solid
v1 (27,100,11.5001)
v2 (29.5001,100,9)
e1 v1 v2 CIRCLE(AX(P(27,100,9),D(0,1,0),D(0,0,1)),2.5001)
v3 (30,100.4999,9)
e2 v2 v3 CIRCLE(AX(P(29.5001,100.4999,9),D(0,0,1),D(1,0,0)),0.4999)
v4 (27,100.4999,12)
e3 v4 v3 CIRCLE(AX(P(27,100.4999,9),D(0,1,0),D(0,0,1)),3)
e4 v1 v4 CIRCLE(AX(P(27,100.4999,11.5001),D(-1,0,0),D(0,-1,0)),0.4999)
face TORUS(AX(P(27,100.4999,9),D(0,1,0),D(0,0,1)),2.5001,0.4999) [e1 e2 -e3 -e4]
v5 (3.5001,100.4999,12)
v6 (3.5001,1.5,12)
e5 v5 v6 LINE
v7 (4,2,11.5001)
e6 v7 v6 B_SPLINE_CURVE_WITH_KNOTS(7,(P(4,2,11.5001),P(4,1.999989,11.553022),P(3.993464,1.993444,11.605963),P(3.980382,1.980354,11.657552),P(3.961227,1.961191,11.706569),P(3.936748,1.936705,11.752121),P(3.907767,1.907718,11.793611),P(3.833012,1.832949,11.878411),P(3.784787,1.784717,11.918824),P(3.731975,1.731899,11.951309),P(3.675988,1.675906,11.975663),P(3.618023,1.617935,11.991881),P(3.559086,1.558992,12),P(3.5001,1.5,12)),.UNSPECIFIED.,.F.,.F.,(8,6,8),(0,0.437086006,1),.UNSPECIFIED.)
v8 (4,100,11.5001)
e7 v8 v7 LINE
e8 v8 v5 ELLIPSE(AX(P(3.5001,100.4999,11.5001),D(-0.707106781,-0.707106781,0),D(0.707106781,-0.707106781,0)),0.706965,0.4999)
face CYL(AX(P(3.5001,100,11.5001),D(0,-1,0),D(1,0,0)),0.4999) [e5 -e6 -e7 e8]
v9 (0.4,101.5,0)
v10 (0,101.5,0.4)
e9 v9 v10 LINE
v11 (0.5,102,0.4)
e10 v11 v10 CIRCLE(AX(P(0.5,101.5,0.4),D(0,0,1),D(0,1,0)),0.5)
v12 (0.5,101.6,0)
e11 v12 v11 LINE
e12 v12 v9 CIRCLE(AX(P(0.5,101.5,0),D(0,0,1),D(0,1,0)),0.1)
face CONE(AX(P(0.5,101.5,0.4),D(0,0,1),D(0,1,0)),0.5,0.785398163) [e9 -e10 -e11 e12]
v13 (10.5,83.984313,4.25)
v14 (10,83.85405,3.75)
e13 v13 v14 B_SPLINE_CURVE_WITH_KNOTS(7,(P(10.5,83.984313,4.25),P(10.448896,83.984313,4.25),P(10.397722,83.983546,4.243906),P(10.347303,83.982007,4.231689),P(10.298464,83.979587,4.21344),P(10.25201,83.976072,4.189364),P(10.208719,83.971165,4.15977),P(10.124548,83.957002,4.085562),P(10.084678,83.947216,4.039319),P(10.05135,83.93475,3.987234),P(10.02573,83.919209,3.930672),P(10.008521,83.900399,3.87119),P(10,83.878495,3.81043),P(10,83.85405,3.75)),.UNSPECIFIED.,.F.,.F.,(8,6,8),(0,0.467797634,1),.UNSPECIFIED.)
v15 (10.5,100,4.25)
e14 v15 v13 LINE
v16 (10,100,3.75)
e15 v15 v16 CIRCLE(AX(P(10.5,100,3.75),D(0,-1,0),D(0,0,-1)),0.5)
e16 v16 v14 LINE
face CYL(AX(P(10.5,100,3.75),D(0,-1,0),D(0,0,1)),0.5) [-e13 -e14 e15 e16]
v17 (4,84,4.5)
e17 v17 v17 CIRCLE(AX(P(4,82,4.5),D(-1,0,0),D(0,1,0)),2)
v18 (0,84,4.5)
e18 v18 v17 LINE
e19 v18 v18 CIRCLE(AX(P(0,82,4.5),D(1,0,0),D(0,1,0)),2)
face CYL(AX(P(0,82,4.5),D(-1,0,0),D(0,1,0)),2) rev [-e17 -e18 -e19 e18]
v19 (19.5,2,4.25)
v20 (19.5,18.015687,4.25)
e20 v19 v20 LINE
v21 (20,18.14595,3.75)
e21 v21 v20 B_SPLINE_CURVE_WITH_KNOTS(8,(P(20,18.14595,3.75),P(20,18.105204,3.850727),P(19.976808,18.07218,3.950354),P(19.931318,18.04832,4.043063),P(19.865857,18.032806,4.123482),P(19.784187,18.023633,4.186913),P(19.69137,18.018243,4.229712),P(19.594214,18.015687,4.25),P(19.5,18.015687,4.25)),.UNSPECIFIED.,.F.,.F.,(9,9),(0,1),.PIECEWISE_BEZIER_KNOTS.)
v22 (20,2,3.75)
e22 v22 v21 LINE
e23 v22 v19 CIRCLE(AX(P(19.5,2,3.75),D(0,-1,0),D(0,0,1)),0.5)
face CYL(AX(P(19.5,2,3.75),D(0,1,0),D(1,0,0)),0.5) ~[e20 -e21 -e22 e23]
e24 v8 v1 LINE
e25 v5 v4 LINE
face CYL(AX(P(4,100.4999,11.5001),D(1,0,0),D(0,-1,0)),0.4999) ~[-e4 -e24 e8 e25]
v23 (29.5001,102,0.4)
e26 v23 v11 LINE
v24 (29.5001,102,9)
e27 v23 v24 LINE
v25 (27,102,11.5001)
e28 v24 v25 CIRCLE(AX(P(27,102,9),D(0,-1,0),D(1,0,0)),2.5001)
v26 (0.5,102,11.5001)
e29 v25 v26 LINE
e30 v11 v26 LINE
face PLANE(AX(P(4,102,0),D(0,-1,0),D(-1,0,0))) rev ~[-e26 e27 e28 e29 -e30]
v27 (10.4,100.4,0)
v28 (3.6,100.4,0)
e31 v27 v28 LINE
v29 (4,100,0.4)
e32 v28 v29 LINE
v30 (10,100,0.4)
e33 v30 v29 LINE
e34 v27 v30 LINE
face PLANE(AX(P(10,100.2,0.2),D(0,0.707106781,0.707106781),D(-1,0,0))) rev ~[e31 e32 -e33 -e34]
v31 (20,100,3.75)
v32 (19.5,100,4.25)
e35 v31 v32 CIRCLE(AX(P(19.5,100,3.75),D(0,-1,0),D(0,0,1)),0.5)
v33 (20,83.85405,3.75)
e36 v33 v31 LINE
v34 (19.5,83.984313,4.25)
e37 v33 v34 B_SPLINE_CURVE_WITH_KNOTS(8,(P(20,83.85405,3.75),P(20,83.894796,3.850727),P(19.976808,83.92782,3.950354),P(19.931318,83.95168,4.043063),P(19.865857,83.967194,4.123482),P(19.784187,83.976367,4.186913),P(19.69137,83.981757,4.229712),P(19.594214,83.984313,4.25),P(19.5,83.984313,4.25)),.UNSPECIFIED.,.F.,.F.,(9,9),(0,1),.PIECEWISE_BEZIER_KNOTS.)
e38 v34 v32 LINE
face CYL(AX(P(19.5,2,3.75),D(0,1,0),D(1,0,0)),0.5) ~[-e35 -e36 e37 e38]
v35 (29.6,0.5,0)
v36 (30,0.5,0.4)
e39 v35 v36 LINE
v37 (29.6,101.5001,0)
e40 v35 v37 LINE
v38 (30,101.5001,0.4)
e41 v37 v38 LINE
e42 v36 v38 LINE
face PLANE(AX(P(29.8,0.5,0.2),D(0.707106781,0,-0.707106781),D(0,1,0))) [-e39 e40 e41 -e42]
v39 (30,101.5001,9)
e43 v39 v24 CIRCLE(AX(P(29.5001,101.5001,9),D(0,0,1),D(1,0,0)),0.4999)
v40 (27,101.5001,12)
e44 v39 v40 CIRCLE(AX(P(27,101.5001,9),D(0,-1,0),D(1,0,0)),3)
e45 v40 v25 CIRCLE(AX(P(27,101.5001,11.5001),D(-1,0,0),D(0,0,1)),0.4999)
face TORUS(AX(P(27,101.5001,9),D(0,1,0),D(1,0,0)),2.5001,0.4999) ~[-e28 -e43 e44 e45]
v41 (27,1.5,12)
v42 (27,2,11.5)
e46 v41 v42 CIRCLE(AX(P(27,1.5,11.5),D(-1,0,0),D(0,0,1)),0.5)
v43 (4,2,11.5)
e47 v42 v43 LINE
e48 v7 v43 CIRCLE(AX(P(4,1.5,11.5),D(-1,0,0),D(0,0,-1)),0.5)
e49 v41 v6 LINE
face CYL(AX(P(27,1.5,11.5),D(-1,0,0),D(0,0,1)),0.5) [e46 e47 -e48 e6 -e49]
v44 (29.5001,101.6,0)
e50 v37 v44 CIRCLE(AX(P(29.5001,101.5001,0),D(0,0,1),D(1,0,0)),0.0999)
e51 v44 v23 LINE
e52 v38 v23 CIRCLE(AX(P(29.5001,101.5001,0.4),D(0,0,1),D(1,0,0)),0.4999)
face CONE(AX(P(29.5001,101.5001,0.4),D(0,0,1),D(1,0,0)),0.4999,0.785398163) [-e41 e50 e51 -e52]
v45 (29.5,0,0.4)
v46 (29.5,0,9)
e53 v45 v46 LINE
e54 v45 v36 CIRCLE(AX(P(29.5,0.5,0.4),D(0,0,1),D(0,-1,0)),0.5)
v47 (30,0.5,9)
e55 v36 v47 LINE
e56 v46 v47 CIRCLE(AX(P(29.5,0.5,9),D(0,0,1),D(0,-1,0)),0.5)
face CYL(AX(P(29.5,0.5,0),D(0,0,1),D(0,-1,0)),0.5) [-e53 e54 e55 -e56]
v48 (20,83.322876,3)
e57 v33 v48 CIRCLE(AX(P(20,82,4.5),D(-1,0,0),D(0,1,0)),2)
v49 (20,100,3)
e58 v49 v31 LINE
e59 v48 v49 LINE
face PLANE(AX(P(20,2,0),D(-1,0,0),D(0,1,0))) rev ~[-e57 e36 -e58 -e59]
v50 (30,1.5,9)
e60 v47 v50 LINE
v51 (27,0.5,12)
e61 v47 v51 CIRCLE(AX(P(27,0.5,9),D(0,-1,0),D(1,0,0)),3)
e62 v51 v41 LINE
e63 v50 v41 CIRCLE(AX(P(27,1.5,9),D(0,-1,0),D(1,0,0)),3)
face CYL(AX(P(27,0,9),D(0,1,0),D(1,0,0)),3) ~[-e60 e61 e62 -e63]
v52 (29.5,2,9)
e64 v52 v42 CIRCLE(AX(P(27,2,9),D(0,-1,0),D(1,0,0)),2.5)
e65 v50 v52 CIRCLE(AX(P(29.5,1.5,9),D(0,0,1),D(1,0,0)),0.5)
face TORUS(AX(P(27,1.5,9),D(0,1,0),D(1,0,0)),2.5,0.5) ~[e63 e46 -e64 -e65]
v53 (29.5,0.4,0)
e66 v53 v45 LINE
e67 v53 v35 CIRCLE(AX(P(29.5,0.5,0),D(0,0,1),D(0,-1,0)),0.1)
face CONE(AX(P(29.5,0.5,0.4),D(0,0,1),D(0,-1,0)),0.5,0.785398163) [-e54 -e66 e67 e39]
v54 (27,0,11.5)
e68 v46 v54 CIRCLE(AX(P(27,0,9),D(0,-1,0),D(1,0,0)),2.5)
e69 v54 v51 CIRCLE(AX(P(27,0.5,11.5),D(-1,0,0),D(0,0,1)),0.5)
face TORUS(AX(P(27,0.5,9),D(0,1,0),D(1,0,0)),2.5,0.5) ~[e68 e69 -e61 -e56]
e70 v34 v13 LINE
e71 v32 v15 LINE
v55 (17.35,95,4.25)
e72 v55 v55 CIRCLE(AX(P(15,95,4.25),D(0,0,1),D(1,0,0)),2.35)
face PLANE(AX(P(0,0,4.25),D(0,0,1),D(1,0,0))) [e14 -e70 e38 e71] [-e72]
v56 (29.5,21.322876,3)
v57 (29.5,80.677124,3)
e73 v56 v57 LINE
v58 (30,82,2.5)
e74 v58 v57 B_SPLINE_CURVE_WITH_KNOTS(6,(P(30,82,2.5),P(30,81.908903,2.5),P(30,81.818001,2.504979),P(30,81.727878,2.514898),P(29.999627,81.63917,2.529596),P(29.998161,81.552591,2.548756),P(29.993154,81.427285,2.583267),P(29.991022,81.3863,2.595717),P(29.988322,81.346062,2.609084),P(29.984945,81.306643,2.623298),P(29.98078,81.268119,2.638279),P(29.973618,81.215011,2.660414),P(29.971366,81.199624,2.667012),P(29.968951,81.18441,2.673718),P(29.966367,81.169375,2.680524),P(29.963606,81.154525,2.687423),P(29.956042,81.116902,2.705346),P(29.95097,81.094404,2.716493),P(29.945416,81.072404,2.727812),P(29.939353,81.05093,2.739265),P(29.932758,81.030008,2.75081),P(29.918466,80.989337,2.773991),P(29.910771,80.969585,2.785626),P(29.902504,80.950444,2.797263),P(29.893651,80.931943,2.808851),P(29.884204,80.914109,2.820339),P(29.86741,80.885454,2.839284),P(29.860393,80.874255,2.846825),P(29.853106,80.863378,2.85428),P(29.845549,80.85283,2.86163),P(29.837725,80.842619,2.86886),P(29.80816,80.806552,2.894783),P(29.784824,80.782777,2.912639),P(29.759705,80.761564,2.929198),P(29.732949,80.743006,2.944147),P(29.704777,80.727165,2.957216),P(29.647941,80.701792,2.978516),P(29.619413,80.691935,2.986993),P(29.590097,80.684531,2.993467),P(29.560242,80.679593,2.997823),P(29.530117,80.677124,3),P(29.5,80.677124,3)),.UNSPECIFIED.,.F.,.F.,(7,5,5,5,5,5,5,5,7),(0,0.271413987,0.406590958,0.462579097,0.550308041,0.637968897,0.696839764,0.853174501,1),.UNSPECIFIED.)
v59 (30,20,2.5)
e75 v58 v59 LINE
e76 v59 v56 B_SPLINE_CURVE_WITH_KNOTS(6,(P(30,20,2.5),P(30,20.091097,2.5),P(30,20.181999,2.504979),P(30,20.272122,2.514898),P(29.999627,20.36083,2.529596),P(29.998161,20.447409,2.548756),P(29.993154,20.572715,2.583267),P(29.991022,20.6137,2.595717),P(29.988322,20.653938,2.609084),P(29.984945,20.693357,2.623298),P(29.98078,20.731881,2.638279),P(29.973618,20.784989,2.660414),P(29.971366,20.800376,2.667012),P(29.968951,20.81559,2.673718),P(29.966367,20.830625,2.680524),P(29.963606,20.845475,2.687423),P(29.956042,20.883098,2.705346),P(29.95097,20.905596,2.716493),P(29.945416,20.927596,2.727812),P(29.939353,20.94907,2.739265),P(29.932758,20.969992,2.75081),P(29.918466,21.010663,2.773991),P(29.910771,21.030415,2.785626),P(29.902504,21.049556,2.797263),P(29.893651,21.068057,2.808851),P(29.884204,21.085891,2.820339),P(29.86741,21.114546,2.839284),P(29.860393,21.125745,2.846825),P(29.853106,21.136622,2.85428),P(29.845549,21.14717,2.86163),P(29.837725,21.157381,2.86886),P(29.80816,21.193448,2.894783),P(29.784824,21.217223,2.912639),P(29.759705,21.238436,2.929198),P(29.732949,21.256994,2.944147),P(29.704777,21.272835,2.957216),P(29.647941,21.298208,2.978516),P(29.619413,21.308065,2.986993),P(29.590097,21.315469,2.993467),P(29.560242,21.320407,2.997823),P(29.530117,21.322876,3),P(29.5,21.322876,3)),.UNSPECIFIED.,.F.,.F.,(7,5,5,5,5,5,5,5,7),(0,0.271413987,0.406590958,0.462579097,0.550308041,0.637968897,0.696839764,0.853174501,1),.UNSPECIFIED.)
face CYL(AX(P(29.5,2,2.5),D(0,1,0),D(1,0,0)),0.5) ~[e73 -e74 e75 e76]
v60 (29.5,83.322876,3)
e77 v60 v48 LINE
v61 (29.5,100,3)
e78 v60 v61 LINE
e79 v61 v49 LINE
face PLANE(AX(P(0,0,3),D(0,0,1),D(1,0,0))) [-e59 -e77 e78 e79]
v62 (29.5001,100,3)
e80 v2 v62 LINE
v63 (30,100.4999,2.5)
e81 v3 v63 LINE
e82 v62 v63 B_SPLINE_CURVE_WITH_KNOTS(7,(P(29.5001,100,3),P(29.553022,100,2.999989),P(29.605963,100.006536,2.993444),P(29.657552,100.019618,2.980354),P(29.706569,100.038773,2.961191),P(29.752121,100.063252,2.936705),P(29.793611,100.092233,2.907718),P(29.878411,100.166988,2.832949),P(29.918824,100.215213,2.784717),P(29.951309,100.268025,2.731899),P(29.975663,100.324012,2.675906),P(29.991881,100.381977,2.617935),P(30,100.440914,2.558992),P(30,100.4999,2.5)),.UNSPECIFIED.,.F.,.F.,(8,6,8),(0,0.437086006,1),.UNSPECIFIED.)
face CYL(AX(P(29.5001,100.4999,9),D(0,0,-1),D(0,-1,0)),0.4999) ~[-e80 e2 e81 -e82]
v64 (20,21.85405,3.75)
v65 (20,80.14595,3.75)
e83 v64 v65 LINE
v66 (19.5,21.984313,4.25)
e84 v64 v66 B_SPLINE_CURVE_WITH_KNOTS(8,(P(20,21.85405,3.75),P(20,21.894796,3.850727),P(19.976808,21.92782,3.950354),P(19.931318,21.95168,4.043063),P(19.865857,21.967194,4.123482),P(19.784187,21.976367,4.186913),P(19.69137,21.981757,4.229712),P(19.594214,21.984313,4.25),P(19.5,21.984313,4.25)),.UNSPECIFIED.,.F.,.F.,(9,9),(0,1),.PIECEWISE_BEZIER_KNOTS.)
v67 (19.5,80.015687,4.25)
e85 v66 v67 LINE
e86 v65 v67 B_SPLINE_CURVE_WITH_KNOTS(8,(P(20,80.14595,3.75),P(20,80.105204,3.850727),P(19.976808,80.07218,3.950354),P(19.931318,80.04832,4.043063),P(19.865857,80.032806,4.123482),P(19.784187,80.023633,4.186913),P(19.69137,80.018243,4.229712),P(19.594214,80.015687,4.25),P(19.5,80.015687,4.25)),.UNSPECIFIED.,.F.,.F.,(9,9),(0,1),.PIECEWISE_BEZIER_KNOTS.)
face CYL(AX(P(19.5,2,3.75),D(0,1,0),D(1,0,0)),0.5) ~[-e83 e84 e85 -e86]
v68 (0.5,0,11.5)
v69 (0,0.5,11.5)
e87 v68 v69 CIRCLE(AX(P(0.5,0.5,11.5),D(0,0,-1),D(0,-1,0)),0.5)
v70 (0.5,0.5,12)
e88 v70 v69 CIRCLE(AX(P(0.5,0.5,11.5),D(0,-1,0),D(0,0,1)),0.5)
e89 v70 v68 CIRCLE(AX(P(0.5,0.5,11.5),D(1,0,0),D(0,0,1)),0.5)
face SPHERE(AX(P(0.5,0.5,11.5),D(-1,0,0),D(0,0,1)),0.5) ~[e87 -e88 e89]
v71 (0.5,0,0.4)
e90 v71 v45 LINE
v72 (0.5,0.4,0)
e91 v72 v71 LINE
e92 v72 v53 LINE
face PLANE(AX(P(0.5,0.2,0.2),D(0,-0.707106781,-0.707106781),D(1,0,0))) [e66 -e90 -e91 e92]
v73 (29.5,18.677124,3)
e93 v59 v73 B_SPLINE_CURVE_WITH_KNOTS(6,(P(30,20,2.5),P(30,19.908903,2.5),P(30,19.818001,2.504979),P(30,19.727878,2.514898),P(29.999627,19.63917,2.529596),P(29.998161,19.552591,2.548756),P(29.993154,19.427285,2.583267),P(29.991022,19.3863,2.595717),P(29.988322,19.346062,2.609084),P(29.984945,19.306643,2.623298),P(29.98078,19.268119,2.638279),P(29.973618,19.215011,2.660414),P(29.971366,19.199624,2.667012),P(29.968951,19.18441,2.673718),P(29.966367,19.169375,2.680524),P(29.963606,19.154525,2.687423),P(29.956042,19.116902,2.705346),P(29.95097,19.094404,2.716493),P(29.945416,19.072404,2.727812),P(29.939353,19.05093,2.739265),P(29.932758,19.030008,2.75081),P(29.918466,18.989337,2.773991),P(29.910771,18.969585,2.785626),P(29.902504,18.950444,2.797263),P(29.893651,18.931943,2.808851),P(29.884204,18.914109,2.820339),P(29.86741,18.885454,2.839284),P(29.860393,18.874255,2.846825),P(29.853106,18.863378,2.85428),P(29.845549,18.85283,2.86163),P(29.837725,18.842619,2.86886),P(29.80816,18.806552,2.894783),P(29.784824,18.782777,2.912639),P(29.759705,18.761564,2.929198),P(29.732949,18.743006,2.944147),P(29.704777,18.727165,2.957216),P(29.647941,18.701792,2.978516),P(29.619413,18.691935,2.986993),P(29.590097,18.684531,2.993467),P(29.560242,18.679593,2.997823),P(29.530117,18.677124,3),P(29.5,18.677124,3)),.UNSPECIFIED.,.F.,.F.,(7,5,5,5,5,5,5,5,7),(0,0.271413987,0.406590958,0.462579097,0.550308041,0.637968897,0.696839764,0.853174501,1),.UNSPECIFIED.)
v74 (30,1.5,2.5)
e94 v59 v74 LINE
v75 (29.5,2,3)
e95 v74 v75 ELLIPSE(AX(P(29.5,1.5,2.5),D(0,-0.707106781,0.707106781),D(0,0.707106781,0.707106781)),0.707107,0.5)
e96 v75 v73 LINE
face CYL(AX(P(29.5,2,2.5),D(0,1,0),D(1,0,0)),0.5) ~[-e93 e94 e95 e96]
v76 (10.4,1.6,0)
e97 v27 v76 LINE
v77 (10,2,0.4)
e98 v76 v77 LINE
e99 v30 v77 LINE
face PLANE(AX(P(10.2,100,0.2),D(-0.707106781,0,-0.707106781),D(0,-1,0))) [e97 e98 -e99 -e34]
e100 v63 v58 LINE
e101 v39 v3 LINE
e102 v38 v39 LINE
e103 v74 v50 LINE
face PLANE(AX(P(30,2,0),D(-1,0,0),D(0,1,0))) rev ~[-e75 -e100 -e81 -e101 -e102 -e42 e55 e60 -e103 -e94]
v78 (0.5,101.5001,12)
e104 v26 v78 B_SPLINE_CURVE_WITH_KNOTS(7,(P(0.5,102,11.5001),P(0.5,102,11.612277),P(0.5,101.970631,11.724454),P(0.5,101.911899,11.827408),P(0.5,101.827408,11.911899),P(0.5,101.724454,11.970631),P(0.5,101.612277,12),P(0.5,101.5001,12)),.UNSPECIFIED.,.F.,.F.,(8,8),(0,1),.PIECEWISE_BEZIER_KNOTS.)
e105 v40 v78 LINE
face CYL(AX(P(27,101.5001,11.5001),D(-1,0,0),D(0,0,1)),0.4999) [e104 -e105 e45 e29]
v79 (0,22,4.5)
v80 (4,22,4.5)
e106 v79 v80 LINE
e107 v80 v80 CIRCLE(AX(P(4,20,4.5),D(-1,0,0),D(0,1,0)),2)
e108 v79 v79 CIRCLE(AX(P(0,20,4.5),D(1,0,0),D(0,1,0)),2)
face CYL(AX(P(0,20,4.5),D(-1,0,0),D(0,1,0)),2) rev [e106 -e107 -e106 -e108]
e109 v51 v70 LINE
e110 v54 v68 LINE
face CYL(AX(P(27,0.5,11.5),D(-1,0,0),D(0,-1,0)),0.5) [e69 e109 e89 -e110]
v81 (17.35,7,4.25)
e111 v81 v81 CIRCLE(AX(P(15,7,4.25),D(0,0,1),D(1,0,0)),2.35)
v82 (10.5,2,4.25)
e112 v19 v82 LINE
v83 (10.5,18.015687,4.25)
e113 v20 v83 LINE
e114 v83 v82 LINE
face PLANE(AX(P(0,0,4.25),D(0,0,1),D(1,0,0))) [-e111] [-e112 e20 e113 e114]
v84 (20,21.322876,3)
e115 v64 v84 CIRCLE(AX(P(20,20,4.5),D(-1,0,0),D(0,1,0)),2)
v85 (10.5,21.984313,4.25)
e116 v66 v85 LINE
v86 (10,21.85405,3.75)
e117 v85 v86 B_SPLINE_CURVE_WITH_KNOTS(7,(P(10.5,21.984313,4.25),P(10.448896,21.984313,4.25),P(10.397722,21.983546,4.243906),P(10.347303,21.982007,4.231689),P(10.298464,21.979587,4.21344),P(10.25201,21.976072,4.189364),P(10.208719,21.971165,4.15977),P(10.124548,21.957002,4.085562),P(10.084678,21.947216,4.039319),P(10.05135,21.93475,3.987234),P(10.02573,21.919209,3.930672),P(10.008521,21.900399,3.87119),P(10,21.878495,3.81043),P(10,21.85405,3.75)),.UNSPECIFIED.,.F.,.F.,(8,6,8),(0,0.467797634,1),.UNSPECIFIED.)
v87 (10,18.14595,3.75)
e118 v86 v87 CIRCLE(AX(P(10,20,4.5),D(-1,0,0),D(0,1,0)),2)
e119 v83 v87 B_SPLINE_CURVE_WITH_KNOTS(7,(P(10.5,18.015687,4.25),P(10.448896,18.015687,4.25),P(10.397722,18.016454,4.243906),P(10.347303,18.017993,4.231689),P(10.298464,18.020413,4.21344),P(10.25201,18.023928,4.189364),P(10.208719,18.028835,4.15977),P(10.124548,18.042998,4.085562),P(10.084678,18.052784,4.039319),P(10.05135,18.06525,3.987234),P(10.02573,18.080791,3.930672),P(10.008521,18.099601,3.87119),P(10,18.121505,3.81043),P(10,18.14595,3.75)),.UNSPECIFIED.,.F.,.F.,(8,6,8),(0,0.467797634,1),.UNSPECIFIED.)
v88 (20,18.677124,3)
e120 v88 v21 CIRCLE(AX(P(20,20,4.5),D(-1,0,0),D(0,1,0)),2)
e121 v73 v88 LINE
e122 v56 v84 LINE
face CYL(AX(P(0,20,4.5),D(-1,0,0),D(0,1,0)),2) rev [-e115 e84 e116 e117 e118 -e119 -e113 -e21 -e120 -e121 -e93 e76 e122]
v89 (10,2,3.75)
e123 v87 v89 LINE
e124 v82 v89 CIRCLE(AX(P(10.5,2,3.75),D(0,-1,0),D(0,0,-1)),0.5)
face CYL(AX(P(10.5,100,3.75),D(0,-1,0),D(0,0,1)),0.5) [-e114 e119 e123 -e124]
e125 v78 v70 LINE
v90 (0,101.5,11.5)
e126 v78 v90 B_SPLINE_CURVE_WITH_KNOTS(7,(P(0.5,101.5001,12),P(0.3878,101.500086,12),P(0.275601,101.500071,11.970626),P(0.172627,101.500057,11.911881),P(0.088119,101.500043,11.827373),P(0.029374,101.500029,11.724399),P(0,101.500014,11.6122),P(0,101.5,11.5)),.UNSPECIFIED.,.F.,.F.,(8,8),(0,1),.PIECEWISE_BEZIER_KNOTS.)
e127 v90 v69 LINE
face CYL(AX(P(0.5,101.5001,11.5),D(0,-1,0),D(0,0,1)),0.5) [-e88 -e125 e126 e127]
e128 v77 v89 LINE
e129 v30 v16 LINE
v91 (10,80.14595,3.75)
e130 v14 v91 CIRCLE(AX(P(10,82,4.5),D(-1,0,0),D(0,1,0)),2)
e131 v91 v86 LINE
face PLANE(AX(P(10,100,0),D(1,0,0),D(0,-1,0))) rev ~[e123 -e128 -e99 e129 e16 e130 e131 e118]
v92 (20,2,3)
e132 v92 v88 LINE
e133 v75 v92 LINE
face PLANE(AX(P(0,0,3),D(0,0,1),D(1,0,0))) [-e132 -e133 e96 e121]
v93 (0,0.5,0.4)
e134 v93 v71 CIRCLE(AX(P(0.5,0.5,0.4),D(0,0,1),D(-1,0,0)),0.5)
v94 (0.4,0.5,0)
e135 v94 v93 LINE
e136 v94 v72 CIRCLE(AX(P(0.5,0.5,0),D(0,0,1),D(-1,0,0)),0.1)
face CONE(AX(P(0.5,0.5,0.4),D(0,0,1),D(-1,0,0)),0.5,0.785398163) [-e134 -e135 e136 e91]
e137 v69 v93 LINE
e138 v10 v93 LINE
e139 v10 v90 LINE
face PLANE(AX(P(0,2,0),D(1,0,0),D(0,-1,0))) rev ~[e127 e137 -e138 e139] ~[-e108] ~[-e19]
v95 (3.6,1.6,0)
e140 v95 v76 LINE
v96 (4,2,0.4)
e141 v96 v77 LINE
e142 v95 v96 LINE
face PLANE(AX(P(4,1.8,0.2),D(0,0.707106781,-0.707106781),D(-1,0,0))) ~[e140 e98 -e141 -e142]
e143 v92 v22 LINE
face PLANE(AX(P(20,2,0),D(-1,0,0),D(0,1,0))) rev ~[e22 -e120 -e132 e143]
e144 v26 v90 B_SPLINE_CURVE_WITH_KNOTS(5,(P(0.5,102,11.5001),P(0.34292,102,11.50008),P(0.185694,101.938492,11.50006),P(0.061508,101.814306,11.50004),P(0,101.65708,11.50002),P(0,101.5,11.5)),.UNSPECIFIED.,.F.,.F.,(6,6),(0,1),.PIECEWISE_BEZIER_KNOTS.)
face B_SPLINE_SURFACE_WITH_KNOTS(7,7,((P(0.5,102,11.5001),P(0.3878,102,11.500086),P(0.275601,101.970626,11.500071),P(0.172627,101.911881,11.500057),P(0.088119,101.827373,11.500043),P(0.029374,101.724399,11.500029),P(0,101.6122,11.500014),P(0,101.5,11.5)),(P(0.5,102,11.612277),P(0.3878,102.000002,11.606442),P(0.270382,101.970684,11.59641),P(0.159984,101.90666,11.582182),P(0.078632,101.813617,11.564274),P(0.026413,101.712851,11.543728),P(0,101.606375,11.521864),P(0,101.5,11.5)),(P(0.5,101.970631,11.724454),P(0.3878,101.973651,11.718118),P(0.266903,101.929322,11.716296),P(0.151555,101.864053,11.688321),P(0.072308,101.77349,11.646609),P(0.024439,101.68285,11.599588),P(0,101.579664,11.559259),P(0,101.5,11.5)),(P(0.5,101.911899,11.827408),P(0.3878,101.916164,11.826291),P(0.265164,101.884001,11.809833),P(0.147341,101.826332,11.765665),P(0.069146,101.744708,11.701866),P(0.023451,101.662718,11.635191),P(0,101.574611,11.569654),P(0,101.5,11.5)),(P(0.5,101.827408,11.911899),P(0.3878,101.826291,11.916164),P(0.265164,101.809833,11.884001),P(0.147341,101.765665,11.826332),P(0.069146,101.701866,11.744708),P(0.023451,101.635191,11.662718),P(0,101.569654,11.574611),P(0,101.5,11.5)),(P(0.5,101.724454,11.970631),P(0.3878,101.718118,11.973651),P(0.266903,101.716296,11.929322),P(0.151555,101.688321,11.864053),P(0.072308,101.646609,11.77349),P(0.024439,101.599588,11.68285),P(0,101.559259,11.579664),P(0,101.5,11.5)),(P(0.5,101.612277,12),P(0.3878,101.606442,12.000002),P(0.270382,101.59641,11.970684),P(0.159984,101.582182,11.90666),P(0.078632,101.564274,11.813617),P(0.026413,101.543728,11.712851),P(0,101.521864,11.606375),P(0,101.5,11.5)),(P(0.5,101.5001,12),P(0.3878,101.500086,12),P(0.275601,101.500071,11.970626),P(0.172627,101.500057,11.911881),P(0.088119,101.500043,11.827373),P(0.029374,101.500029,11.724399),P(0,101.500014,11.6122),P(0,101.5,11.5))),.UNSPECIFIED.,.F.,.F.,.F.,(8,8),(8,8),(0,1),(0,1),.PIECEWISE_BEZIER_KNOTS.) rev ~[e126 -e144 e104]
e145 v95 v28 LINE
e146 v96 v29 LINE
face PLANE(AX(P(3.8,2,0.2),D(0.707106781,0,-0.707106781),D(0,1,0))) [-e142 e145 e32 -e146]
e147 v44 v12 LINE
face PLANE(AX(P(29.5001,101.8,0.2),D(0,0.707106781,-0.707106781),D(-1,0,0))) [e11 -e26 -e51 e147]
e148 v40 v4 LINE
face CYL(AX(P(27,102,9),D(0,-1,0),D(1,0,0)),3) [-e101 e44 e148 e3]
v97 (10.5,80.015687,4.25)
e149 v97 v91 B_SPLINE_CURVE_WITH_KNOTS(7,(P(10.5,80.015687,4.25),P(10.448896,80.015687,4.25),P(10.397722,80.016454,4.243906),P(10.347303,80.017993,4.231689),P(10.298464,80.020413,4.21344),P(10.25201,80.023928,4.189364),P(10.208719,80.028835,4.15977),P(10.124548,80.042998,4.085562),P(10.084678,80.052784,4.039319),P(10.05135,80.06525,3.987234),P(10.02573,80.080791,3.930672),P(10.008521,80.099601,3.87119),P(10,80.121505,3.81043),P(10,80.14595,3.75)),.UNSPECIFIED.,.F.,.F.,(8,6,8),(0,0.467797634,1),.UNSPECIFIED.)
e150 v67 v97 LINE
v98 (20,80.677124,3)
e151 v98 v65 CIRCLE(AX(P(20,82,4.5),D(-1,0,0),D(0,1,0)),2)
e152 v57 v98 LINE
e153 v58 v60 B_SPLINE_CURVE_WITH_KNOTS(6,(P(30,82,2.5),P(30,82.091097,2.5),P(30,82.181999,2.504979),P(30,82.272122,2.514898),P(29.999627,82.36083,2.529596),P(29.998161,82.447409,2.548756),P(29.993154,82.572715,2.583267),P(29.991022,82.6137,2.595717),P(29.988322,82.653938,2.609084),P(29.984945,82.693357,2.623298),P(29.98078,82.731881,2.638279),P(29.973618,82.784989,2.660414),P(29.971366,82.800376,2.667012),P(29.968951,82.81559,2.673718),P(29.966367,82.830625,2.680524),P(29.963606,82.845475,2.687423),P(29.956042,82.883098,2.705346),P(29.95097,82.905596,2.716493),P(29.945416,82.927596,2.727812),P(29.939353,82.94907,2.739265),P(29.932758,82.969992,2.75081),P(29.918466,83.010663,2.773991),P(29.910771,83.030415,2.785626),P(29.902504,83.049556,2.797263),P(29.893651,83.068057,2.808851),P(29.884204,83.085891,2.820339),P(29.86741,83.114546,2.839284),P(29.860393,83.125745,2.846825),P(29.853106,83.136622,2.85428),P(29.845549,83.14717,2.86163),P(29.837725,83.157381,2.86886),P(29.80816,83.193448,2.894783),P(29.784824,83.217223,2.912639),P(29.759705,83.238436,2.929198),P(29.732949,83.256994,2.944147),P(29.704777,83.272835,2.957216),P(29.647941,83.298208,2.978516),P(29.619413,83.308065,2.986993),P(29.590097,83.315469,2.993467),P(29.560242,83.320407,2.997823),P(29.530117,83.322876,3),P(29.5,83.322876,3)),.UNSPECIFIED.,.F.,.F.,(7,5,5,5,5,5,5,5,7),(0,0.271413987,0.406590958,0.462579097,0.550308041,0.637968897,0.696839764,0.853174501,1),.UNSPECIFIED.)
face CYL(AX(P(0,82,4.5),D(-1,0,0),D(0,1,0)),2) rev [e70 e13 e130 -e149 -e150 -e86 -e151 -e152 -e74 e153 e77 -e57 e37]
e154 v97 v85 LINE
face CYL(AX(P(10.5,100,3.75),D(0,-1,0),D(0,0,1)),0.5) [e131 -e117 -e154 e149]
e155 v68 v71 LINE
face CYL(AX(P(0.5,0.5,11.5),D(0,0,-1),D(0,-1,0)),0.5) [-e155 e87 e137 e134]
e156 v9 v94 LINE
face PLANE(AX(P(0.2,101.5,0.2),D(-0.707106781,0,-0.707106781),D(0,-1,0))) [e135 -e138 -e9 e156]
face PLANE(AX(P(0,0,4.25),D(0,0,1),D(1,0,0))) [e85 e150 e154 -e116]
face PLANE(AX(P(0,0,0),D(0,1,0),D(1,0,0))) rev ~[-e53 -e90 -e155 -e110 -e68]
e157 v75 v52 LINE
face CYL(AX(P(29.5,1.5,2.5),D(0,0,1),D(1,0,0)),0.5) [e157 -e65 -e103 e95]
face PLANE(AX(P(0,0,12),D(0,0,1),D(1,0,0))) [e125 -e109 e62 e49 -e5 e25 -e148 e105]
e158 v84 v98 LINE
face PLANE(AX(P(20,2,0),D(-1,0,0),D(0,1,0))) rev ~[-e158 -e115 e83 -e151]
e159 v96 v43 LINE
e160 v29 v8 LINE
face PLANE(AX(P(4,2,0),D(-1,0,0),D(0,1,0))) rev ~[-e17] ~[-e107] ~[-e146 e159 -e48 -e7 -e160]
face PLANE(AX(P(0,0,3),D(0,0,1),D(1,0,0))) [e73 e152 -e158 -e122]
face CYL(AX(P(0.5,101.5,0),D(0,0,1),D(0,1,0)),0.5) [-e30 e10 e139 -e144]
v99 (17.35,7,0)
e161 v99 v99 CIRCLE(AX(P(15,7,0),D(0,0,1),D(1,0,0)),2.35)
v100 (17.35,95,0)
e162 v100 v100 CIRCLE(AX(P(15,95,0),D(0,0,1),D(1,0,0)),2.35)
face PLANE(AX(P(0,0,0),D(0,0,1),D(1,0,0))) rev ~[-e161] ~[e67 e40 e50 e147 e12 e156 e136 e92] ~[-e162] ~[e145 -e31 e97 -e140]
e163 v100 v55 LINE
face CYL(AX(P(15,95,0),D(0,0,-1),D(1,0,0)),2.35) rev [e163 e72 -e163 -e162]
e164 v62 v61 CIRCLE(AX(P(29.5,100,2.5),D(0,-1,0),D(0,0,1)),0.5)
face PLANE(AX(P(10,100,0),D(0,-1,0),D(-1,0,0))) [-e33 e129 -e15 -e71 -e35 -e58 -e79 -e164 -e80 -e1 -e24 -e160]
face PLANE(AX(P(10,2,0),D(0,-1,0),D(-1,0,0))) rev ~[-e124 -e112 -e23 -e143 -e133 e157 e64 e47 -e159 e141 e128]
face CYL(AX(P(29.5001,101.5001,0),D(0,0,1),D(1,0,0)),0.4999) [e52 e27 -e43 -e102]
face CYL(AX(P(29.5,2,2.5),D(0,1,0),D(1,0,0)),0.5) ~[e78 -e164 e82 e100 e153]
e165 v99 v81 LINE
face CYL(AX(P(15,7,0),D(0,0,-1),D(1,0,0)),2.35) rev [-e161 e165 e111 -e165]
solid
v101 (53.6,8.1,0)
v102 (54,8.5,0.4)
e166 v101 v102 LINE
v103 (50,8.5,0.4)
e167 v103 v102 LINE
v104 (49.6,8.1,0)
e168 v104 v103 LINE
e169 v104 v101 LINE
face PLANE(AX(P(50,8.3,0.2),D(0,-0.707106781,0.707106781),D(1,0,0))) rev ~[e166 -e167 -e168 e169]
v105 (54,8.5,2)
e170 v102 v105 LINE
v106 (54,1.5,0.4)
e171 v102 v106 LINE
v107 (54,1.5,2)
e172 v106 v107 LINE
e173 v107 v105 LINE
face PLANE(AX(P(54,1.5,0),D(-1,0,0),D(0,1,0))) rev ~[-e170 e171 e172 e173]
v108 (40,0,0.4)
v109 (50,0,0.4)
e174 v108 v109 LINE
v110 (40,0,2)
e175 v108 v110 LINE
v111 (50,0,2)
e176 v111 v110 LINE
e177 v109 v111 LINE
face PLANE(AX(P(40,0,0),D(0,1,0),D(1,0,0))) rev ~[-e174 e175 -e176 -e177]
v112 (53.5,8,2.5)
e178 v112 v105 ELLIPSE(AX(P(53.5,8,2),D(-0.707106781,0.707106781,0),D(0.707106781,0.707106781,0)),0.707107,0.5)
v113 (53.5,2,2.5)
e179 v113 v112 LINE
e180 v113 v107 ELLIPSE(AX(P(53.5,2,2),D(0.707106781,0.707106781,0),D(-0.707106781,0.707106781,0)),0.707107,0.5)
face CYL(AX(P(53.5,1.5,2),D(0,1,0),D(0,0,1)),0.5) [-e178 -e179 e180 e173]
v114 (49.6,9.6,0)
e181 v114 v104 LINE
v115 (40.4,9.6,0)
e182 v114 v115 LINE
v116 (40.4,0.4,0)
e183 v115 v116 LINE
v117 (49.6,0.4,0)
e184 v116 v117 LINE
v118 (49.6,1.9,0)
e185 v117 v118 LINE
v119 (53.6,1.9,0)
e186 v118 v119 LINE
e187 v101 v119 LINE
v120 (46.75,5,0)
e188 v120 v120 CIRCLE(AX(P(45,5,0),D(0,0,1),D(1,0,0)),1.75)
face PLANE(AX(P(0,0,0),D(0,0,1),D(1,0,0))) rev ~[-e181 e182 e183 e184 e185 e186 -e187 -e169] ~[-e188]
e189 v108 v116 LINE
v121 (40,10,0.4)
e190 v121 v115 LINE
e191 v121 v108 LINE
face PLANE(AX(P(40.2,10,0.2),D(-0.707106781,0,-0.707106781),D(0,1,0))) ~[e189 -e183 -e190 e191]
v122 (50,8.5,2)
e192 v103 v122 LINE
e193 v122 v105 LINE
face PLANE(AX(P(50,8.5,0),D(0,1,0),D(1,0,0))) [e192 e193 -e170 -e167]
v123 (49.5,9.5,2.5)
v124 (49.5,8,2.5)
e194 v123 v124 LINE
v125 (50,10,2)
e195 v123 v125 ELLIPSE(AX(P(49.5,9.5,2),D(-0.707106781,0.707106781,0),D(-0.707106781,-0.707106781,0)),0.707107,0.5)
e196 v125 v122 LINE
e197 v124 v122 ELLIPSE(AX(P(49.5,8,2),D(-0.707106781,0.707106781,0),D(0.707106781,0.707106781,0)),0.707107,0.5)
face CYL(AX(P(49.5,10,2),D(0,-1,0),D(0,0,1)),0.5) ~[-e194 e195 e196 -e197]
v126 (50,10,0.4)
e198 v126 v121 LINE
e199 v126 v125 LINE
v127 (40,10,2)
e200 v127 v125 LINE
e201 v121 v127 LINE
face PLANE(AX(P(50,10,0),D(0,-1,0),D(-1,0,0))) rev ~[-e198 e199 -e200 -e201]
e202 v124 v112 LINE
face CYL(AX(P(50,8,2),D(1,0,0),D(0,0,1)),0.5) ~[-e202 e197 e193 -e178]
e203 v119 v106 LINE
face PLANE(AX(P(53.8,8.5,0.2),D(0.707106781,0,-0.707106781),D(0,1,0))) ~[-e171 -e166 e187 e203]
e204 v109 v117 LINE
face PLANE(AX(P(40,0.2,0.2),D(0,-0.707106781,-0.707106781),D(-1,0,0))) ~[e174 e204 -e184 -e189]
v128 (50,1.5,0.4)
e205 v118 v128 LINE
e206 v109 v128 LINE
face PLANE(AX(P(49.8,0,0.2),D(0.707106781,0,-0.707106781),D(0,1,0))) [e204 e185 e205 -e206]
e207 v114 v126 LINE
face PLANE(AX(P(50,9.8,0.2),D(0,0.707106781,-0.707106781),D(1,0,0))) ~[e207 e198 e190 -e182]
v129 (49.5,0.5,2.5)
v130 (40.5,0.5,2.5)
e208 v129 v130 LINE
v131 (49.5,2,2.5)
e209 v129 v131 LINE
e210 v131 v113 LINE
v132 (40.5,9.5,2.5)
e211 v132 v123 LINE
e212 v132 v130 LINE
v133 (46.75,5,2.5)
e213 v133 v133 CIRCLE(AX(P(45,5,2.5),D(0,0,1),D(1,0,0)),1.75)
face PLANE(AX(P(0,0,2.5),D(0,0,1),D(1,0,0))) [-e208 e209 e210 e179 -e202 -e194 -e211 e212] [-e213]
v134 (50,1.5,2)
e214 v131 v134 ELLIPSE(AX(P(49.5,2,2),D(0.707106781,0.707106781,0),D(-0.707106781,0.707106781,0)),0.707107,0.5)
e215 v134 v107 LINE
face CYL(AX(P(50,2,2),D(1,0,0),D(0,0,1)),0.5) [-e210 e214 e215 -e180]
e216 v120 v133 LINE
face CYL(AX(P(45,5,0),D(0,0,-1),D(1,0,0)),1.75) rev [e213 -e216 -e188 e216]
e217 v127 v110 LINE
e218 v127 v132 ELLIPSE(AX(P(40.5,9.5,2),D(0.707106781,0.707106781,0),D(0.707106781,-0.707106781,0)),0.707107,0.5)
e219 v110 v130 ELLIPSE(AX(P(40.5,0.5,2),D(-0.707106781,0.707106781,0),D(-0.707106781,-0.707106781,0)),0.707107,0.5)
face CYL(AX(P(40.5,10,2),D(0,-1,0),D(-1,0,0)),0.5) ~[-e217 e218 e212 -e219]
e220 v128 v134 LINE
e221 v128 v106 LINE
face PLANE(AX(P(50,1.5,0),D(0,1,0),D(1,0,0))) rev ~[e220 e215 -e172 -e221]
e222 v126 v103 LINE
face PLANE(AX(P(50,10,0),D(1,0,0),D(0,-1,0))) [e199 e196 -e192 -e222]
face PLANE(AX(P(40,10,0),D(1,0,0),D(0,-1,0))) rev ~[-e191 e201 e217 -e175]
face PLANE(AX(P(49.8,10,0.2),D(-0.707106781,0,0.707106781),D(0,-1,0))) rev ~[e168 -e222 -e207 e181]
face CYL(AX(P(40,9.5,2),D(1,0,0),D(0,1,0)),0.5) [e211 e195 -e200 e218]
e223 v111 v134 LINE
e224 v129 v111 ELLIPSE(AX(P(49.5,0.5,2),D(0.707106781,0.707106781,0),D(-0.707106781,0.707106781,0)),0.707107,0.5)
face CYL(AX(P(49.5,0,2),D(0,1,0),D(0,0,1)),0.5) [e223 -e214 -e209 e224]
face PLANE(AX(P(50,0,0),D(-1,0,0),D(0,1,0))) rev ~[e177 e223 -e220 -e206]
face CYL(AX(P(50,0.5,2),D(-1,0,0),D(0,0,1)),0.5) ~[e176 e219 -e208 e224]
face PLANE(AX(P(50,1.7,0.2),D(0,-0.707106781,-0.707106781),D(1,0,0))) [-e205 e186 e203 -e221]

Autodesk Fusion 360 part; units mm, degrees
sketch "Sketch1" plane through (0, 0, 0) normal (0, 0, 1) x (1, 0, 0)
  line L0 (0, 0) -> (4, 0)
  line L1 (4, 0) -> (4, 102)
  line L2 (4, 102) -> (0, 102)
  line L3 (0, 102) -> (0, 0)
  line L4 (4, 0) -> (4, 2)
  line L5 (4, 2) -> (4, 0)
  line L6 (4, 100) -> (4, 102)
  line L7 (0, 0) -> (30, 0)
  line L8 (30, 0) -> (30, 2)
  line L9 (30, 2) -> (0, 2)
  line L10 (0, 2) -> (0, 0)
  line L11 (0, 102) -> (30, 102)
  line L12 (30, 102) -> (30, 100)
  line L13 (30, 100) -> (0, 100)
  line L14 (0, 100) -> (0, 102)
  line L15 (0, 0) -> (30, 0)
  line L16 (30, 0) -> (30, 102)
  line L17 (30, 102) -> (0, 102)
  line L18 (0, 102) -> (0, 0)
  line L19 (4, 2) -> (10, 2)
  line L20 (10, 2) -> (20, 2)
  line L21 (20, 2) -> (20, 100)
  line L22 (20, 100) -> (10, 100)
  line L23 (10, 100) -> (10, 2)
  circle A0 centre (15, 7) radius 2.35
  circle A1 centre (15, 95) radius 2.35
  line L24 (40, 0) -> (54, 0)
  line L25 (54, 0) -> (54, 10)
  line L26 (54, 10) -> (40, 10)
  line L27 (40, 10) -> (40, 0)
  circle A2 centre (45, 5) radius 1.75
  line L28 (50, 0) -> (50, 1.5)
  line L29 (50, 1.5) -> (54, 1.5)
  line L30 (50, 10) -> (50, 8.5)
  line L31 (50, 8.5) -> (54, 8.5)
  point P0 (40, 0)
  dimension "d15" = 4
  dimension "d16" = 102
  dimension "d17" = 2
  dimension "d19" = 2
  dimension "d21" = 2
  dimension "d39" = 30
  dimension "d40" = 2
  dimension "d41" = 30
  dimension "d42" = 2
  dimension "d43" = 30
  dimension "d44" = 102
  dimension "d45" = 6
  dimension "d46" = 10
  dimension "d47" = 98
  dimension "d60" = 4.7
  dimension "d61" = 5
  dimension "d62" = 5
  dimension "d63" = 4.7
  dimension "d64" = 5
  dimension "d65" = 5
  dimension "d95" = 14
  dimension "d96" = 10
  dimension "d97" = 3.5
  dimension "d98" = 5
  dimension "d99" = 5
  dimension "d104" = 1.5
  dimension "d105" = 10
  dimension "d106" = 1.5
extrude "Extrude1" add sketch "Sketch1" along normal blind 12 contours L0 L1 L3 L4 L5 L7 L9 L10 L15 L18 | L1 L4 L5 L7 L8 L9 L15 L16 L19 L20 | L1 L3 L9 L13 L18 | L1 L2 L3 L6 L11 L13 L14 L17 L18 | L1 L6 L11 L12 L13 L16 L17 L22 makes body 1
extrude "Extrude3" add sketch "Sketch1" along normal blind 4.25 contours L9 L13 L20 L21 L22 L23 | A0 | A1 bodies 1
fillet "Fillet3" radius 0.5 2 edges at (10, 51, 4.25) (20, 51, 4.25) on bodies 1
extrude "Extrude4" cut sketch "Sketch1" along normal blind 4.25 contours A0 | A1 bodies 1
sketch "Sketch2" plane through (0, 0, 0) normal (1, 0, 0) x (0, 1, 0)
  circle A0 centre (20, 4.5) radius 2
  circle A1 centre (82, 4.5) radius 2
  line L0 (0, 0) -> (0, 12.5)
  line L1 (102, 0) -> (102, 11)
  line L2 (102, 0) -> (0, 0)
  dimension "d68" = 4
  dimension "d69" = 4
  dimension "d70" = 20
  dimension "d73" = 4.5
  dimension "d74" = 4.5
  dimension "d75" = 20
extrude "Extrude5" add sketch "Sketch1" along normal blind 3 contours L9 L13 L16 L21 bodies 1
fillet "Fillet4" radius 3 2 edges at (30, 1, 12) (30, 101, 12) on bodies 1
fillet "Fillet5" radius 0.5 1 edges at (30, 51, 3) on bodies 1
fillet "Fillet6" radius 0.5 6 edges at (13.5, 0, 12) (29.1213, 0, 11.1213) (30, 0, 4.5) (30, 2, 5.75) (29.1213, 2, 11.1213) (15.5, 2, 12) on bodies 1
fillet "Fillet7" radius 0.5 7 edges at (4, 50.75, 12) (15.5, 100, 12) (29.1213, 100, 11.1213) (30, 100, 5.75) (30, 102, 4.5) (29.1213, 102, 11.1213) (13.5, 102, 12) on bodies 1
fillet "Fillet8" radius 0.5 5 edges at (0, 102, 5.75) (0, 101.8536, 11.8536) (0, 51, 12) (0, 0.1464, 11.8536) (0, 0, 5.75) on bodies 1
extrude "Extrude6" cut sketch "Sketch2" along normal blind 30 bodies 1
extrude "Extrude7" add sketch "Sketch1" along normal blind 2.5 separate body contours L24 L25 L26 L27 L28 L29 L30 L31 | L24 L25 L28 L29 | L25 L26 L30 L31 makes body 2
extrude "Extrude8" cut sketch "Sketch1" along normal blind 2.5 contours L24 L25 L28 L29 | L25 L26 L30 L31 bodies 2
chamfer "Chamfer1" distance 0.4 angle 45 8 edges at (52, 1.5, 0) (45, 0, 0) (50, 0.75, 0) (54, 5, 0) (52, 8.5, 0) (50, 9.25, 0) (45, 10, 0) (40, 5, 0) on bodies 2
chamfer "Chamfer2" distance 0.4 angle 45 8 edges at (30, 51, 0) (29.8536, 101.8536, 0) (15, 102, 0) (0.1464, 101.8536, 0) (0, 51, 0) (0.1464, 0.1464, 0) (15, 0, 0) (29.8536, 0.1464, 0) on bodies 1
fillet "Fillet13" radius 0.5 8 edges at (54, 5, 2.5) (52, 8.5, 2.5) (50, 9.25, 2.5) (45, 10, 2.5) (40, 5, 2.5) (45, 0, 2.5) (50, 0.75, 2.5) (52, 1.5, 2.5) on bodies 2
chamfer "Chamfer3" distance 0.4 angle 45 4 edges at (10, 51, 0) (7, 2, 0) (7, 100, 0) (4, 51, 0) on bodies 1
equation "SideWallThickness = 2 mm"
equation "BaseThickness = 3 mm"
equation "ClampBaseThickness = 1.25 mm"
equation "PowerSupplyWidth = 97 mm"
equation "ExtrusionMount = 4 mm"
equation "PS_MountLength = 30 mm"
equation "d15 = ExtrusionMount"
equation "d16 = SideWallThickness + PowerSupplyWidth + 1 mm + SideWallThickness"
equation "d17 = SideWallThickness"
equation "d19 = SideWallThickness"
equation "d21 = SideWallThickness"
equation "DistanceToPowerSupply = 20.5 mm"
equation "d39 = PS_MountLength"
equation "d40 = SideWallThickness"
equation "d41 = PS_MountLength"
equation "d42 = SideWallThickness"
equation "d43 = PS_MountLength"
equation "d44 = SideWallThickness + PowerSupplyWidth + 1 mm + SideWallThickness"
equation "d47 = PowerSupplyWidth + 1 mm"
